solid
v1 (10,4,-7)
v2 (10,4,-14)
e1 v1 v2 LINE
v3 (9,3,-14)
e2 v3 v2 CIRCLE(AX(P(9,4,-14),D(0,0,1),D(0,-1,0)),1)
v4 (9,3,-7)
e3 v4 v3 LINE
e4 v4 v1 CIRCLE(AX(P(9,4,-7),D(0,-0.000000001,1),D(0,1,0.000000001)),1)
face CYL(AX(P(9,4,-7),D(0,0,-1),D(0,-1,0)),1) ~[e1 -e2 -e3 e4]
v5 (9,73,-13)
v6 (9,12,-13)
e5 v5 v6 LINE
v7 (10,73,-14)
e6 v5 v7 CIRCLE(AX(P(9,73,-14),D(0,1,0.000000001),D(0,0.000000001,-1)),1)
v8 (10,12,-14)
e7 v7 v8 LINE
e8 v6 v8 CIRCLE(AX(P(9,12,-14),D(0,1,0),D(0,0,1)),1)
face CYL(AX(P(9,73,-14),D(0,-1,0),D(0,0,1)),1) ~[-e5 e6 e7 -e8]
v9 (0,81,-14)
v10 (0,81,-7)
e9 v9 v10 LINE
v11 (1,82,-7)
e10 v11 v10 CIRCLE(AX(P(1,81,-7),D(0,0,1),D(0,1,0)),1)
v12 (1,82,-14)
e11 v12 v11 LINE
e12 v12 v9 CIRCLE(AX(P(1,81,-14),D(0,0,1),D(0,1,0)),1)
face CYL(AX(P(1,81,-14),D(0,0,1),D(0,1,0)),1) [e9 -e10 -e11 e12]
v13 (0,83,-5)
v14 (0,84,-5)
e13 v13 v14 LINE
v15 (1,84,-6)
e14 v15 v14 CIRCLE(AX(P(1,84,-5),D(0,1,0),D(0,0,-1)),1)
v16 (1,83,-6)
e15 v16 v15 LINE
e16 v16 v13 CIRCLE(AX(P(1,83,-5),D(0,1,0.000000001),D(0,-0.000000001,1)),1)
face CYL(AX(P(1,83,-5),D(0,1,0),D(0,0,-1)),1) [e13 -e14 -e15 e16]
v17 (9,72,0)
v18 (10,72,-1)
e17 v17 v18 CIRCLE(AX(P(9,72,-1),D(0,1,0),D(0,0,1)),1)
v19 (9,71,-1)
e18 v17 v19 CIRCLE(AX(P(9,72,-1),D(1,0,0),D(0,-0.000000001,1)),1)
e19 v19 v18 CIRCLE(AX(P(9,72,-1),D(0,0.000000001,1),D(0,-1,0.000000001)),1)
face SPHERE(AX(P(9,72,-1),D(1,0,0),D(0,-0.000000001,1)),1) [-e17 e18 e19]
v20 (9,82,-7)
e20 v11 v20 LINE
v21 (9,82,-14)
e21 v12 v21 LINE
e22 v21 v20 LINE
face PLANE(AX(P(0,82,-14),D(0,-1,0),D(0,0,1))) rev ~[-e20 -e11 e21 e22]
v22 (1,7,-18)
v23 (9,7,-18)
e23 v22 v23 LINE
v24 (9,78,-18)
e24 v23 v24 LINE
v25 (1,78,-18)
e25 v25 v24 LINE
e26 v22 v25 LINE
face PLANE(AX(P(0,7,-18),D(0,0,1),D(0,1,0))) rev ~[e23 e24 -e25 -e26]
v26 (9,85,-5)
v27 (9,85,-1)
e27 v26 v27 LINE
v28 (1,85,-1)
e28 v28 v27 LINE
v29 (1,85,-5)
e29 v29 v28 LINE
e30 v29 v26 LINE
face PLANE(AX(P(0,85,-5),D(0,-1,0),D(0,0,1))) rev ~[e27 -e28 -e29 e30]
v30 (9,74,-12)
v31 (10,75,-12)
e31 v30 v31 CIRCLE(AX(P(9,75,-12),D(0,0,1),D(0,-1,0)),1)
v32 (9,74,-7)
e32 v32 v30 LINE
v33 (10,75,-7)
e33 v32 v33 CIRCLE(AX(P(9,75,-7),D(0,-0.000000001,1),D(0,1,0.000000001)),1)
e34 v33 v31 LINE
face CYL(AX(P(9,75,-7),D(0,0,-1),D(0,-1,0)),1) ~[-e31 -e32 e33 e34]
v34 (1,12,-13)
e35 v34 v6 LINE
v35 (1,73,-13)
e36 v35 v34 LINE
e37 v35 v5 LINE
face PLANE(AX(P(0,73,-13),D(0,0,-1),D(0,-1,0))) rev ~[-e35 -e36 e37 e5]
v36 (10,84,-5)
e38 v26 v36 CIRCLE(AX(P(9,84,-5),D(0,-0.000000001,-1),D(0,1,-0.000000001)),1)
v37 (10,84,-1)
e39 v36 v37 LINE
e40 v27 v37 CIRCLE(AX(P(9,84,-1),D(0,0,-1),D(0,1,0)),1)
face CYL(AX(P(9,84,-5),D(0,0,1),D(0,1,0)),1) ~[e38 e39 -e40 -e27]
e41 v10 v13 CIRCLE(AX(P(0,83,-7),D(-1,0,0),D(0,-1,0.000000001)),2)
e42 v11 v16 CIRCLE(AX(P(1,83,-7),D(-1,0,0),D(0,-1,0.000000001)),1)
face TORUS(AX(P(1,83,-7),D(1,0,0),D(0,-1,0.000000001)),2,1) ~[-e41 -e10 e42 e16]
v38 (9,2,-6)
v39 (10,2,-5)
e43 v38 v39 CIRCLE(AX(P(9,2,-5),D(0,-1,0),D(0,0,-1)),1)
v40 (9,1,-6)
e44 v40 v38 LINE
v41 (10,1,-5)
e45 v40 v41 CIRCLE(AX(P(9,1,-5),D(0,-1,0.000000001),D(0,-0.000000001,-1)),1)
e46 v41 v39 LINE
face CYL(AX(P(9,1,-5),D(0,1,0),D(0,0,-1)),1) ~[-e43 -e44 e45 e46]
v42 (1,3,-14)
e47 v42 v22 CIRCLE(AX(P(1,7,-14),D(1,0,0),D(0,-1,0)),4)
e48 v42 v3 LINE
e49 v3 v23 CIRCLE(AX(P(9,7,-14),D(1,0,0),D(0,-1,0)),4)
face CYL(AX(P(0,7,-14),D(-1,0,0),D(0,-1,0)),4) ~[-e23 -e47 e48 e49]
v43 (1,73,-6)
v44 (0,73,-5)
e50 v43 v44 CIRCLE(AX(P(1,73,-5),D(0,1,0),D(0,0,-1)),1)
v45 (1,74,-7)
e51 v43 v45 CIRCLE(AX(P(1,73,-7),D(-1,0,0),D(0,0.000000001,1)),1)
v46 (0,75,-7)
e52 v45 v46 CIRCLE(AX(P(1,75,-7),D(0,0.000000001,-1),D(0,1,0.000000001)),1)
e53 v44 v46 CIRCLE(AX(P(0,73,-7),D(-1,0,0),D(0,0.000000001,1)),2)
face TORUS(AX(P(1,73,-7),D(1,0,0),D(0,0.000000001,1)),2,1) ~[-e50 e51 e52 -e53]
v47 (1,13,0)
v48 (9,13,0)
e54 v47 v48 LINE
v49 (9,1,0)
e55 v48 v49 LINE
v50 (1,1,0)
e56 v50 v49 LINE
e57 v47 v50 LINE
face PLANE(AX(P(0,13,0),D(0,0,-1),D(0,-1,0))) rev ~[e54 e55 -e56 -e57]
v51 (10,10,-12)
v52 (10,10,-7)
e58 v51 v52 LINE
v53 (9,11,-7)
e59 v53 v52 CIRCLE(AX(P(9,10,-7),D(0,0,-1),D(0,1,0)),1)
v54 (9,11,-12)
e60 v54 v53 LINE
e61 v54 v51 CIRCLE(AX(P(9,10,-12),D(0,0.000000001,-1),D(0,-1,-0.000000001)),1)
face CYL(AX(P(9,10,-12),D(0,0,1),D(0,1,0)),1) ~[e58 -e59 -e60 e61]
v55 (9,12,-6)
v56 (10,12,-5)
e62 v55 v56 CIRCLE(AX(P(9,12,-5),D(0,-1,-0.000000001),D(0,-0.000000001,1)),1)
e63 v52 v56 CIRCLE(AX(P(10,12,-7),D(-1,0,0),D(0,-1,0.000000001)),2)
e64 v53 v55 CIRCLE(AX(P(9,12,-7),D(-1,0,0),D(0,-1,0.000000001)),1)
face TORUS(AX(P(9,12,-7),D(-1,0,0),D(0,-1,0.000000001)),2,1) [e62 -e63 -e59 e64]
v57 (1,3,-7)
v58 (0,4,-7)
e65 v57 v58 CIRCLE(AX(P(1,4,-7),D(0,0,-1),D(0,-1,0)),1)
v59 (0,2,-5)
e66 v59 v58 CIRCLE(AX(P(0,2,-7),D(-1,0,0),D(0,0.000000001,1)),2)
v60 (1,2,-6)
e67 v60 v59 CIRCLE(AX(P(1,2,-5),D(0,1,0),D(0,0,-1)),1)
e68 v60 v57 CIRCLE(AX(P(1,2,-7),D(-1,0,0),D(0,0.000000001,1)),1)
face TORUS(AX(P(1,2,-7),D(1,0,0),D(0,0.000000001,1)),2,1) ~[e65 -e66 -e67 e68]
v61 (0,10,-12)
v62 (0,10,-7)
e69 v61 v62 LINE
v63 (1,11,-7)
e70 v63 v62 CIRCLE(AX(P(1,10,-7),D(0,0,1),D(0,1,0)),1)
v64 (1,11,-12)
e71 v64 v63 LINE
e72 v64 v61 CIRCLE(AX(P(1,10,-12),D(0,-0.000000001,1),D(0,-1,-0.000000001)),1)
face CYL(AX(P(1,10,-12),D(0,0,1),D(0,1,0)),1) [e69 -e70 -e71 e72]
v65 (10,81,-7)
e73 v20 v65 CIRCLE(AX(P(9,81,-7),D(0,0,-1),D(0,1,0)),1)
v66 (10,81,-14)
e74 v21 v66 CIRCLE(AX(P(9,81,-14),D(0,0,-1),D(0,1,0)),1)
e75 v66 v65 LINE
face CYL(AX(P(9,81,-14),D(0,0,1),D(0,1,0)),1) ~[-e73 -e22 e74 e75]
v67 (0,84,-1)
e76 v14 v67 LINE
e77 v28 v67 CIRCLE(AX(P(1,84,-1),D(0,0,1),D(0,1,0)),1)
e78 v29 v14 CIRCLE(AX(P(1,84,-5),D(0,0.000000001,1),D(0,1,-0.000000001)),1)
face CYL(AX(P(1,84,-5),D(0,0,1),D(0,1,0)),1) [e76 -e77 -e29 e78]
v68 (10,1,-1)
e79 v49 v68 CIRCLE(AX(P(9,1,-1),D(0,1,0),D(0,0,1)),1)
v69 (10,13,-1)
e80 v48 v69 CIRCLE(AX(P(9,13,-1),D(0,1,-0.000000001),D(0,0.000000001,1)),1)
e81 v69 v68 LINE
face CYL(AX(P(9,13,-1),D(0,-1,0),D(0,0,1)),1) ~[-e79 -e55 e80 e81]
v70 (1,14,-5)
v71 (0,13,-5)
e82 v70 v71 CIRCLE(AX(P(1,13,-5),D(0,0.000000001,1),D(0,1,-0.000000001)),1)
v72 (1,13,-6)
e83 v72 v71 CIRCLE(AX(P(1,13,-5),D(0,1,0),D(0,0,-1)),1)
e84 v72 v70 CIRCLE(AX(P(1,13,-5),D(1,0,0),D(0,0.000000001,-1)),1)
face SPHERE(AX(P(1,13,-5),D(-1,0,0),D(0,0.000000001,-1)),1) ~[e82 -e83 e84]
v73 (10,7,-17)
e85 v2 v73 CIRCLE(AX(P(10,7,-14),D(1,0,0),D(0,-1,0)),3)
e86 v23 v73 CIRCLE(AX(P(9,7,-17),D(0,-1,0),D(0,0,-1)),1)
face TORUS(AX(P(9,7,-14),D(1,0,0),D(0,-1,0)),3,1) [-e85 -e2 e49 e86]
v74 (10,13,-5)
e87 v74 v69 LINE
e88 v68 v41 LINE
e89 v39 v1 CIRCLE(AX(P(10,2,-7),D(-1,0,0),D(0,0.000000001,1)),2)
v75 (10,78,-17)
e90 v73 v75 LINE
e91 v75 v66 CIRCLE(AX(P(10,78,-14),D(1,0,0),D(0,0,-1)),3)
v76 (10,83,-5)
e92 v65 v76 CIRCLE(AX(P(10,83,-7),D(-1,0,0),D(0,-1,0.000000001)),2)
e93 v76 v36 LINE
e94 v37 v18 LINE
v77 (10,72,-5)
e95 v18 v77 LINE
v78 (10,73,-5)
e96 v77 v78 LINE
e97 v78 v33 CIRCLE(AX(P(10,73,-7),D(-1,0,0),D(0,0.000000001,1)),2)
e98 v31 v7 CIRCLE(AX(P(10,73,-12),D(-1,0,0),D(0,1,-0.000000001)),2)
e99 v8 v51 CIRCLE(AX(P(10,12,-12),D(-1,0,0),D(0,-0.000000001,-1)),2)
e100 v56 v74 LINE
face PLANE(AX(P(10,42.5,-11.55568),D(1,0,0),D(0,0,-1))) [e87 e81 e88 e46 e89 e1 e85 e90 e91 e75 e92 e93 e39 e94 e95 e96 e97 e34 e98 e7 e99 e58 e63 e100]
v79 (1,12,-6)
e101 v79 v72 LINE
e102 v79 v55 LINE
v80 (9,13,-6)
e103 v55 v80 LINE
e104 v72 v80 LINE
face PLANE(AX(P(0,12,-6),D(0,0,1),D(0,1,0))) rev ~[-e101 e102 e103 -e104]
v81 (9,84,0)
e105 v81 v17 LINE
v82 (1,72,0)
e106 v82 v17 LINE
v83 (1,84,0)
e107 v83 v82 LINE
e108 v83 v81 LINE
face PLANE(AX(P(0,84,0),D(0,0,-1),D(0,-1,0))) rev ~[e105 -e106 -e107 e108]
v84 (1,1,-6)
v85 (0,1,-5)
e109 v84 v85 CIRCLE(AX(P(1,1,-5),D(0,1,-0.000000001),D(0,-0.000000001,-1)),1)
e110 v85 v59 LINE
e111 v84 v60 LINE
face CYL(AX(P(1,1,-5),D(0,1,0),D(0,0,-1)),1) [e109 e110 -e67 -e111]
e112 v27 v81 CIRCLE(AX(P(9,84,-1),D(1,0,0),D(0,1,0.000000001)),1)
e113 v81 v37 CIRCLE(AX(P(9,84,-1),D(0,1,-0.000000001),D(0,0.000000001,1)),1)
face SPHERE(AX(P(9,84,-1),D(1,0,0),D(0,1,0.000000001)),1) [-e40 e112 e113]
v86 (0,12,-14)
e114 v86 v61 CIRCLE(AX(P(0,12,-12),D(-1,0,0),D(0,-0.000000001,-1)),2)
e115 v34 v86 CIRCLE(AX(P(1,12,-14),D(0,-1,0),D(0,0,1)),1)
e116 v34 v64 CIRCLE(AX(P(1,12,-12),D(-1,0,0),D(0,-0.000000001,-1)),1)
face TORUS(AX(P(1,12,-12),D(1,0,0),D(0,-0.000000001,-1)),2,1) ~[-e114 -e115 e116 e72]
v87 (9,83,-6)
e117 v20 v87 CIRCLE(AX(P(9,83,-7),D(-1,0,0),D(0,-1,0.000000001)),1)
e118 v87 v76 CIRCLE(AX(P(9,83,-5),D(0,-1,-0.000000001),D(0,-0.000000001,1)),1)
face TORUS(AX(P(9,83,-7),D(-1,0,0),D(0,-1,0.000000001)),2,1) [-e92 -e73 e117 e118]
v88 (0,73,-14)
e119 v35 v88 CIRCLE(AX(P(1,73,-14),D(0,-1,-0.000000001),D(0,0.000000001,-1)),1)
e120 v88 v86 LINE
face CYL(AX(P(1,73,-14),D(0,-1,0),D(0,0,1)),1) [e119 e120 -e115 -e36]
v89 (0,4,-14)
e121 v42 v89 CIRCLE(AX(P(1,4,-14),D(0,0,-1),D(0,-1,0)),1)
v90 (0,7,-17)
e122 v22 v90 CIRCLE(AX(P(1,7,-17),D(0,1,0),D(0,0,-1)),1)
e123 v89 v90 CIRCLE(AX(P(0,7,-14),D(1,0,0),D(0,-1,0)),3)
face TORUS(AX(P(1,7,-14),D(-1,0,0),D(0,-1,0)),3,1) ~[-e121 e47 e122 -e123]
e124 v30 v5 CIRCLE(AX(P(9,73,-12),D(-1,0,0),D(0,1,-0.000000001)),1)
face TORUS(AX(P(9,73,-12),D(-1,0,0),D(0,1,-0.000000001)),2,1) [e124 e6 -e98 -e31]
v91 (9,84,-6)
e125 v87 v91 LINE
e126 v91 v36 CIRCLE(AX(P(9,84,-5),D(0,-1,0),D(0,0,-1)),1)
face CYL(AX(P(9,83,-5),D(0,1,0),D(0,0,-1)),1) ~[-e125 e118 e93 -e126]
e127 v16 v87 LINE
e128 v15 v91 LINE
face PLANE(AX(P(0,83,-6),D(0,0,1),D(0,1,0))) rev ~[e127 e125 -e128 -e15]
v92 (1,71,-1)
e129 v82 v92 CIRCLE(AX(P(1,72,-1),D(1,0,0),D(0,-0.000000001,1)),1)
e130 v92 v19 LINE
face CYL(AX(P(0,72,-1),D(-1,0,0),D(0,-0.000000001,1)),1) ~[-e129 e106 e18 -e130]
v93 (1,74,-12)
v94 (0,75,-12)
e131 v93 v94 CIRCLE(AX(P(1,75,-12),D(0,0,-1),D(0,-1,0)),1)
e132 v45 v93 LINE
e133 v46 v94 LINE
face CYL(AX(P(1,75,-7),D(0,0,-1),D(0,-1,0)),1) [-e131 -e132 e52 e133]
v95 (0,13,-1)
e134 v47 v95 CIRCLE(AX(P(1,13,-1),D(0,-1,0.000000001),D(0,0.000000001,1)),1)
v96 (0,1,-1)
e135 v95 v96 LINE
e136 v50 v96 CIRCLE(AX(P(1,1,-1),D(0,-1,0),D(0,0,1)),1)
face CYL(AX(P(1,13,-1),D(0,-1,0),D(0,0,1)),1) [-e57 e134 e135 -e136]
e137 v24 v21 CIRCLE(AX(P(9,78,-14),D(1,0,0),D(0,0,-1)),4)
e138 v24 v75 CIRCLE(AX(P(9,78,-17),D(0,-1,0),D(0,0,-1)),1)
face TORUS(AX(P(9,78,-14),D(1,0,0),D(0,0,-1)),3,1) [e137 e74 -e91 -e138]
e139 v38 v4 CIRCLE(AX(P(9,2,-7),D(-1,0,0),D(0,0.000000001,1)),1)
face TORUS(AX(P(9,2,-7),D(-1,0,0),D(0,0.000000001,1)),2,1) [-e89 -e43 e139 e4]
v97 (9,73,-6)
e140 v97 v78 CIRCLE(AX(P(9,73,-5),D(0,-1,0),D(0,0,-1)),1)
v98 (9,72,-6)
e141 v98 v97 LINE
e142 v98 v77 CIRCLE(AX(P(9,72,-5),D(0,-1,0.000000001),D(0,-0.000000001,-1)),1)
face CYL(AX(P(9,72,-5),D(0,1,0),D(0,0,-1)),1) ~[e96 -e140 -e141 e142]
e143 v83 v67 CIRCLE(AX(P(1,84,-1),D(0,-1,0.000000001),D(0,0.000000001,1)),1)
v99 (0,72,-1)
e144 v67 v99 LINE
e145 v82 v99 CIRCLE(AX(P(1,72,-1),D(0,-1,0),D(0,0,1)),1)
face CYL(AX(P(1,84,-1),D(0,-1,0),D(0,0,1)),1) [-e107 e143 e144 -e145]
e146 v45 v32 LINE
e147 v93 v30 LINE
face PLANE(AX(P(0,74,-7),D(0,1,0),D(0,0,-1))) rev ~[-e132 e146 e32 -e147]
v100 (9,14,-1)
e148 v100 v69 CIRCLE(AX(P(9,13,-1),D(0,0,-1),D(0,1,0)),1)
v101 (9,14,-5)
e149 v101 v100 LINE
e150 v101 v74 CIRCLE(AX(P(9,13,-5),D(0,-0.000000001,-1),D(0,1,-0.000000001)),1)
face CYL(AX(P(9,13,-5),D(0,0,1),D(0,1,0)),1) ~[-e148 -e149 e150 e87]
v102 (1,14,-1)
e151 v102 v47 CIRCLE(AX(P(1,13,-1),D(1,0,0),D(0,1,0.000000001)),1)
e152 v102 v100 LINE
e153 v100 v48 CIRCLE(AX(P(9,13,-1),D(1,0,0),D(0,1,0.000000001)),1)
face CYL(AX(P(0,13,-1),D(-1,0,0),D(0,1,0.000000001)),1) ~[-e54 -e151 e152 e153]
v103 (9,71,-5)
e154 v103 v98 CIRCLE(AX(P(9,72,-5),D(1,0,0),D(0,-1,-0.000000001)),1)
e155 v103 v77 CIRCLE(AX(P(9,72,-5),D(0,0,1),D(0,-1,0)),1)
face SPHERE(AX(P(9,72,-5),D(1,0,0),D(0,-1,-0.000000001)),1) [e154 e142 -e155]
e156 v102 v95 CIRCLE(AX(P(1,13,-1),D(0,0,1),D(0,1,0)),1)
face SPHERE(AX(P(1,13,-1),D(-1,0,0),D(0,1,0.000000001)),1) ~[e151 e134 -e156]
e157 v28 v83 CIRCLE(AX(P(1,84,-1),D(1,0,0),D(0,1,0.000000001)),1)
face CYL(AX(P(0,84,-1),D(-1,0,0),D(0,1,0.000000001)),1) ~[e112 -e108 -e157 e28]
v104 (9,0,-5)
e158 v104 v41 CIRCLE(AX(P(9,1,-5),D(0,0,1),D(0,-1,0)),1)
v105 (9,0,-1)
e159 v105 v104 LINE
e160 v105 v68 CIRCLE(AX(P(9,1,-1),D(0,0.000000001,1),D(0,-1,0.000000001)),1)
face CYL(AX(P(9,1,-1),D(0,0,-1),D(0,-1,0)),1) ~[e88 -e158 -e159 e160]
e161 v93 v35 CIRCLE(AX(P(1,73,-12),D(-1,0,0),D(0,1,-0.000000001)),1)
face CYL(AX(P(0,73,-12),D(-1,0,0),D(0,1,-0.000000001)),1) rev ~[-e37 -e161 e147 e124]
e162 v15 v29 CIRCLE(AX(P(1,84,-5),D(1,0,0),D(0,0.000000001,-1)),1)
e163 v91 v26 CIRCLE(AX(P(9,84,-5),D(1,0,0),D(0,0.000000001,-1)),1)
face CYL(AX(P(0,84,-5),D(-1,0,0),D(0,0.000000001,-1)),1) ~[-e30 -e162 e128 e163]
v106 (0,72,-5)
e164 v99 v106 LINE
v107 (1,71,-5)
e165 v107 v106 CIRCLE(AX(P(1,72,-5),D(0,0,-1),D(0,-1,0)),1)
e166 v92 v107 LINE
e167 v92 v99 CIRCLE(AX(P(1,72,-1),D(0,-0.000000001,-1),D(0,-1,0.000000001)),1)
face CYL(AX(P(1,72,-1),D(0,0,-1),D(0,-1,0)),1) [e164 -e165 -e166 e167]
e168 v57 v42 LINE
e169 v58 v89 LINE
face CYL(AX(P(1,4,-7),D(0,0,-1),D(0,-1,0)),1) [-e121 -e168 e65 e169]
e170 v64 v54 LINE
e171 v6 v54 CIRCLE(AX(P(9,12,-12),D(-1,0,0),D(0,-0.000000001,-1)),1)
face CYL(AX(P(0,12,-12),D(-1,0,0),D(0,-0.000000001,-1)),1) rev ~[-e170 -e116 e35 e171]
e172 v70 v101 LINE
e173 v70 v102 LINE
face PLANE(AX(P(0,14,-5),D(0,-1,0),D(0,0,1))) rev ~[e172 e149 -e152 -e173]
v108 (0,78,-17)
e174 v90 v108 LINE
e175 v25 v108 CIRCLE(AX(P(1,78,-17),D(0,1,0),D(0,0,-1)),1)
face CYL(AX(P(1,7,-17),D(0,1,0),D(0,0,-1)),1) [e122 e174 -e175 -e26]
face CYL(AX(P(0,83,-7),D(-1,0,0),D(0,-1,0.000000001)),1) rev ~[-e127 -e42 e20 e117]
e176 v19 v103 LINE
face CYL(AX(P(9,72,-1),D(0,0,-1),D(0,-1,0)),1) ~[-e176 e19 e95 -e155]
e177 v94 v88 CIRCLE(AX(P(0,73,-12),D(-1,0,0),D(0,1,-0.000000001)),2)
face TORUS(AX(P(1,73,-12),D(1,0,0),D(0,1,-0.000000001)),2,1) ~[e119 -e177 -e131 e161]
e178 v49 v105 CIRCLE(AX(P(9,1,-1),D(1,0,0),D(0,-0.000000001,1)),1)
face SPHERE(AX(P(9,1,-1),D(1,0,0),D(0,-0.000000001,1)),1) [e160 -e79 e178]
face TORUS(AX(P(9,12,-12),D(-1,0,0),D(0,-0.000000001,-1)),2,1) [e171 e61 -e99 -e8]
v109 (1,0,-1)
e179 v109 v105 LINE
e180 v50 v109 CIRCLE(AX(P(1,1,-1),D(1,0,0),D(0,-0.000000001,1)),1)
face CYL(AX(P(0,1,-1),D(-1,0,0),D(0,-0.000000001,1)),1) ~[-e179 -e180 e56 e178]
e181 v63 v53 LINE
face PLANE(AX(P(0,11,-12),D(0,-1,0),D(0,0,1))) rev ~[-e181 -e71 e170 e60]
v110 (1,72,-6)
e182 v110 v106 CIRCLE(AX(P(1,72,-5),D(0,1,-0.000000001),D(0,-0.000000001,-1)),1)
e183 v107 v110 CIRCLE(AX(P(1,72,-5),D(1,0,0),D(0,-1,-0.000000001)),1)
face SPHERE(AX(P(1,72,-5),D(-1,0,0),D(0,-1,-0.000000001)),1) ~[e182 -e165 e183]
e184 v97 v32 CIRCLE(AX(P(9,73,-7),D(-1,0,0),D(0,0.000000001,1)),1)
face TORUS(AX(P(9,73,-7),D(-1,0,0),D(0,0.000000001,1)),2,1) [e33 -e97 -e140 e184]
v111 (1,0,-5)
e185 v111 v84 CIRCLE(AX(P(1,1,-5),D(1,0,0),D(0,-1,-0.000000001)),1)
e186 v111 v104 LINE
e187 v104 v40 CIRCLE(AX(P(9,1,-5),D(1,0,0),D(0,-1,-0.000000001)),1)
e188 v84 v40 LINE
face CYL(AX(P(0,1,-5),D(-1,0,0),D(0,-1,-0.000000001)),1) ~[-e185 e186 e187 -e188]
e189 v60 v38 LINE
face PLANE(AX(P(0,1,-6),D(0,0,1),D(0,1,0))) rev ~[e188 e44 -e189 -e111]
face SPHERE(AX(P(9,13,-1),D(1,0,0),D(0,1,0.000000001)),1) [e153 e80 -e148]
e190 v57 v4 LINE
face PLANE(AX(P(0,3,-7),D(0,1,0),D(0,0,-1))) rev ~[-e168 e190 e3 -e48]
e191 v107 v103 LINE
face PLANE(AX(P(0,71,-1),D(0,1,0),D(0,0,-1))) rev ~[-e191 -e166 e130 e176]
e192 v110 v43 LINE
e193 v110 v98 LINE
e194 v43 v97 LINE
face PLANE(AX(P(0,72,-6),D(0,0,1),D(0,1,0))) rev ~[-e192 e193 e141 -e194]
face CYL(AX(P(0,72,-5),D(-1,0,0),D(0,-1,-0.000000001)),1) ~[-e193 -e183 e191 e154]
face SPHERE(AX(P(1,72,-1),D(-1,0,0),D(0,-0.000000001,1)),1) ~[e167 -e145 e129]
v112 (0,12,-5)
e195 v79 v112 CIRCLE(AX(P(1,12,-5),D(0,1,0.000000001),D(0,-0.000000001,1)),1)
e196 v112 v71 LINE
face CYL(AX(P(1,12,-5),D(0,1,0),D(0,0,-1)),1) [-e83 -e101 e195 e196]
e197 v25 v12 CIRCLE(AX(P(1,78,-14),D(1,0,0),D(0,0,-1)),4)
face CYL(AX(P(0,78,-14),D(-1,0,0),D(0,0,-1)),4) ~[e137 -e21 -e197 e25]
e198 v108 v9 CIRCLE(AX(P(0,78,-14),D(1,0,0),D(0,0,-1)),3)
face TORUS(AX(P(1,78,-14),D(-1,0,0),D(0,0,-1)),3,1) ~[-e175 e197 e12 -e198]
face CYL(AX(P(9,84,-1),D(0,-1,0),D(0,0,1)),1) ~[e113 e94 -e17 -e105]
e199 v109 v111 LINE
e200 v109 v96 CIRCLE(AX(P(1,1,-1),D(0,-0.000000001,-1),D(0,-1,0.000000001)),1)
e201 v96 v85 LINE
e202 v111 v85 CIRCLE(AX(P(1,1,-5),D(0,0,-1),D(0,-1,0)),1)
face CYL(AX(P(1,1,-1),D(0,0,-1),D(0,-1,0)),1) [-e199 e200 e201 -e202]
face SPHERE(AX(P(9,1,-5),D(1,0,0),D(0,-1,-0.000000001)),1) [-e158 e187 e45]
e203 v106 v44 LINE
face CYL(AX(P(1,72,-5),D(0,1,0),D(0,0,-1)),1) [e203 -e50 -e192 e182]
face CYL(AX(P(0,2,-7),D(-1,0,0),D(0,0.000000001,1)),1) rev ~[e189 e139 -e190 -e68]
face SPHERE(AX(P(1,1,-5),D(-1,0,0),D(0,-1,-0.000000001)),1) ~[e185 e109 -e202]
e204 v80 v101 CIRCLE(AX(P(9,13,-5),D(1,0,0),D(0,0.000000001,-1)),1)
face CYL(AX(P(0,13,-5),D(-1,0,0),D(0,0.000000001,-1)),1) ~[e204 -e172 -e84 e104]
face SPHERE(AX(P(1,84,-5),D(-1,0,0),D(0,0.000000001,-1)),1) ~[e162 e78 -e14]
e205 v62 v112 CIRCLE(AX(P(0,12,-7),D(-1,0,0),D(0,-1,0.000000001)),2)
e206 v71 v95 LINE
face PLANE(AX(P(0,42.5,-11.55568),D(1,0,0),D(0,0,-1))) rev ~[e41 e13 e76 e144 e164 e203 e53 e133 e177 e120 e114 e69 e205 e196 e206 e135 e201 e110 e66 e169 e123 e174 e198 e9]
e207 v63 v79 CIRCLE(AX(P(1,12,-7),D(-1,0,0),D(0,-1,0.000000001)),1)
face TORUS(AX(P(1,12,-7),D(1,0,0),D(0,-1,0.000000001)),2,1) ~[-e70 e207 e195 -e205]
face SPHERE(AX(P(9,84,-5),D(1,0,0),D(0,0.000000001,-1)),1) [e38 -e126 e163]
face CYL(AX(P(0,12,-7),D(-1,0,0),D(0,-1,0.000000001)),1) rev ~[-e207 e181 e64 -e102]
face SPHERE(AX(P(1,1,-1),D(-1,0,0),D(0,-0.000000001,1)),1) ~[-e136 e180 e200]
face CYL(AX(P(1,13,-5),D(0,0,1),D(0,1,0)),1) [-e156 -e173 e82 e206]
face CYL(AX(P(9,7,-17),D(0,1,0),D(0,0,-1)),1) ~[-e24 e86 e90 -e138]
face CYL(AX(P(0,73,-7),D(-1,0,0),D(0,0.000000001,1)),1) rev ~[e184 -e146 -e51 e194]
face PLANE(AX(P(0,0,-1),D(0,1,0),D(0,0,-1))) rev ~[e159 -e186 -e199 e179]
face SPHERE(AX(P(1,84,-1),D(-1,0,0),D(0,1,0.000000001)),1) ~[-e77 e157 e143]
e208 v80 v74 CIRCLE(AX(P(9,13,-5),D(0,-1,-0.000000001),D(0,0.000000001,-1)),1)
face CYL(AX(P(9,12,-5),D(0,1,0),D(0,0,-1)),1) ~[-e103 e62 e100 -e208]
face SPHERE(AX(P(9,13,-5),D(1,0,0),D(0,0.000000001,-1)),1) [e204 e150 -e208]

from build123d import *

# Parameters (mm, degrees)
BOSS_EXTRUDE1_DEPTH = 10
FILLET1_R           = 1


with BuildPart() as part:
    # Sketch1 → Boss-Extrude1 (new body)
    with BuildSketch(Plane(origin=(0, 0, 0), x_dir=(0, 0, -1), z_dir=(1, 0, 0))):
        with BuildLine():
            Line((1, 0), (5, 0))
            ThreePointArc((5, 0), (5.707106781, 0.292893219), (6, 1))
            Line((6, 1), (6, 2))
            ThreePointArc((6, 2), (6.292893219, 2.707106781), (7, 3))
            Line((7, 3), (13, 3))
            Line((13, 3), (14, 3))
            ThreePointArc((14, 3), (16.828427125, 4.171572875), (18, 7))
            Line((18, 7), (18, 78))
            ThreePointArc((18, 78), (16.828427125, 80.828427125), (14, 82))
            Line((14, 82), (13, 82))
            Line((13, 82), (7, 82))
            ThreePointArc((7, 82), (6.292893219, 82.292893219), (6, 83))
            Line((6, 83), (6, 84))
            ThreePointArc((6, 84), (5.707106781, 84.707106781), (5, 85))
            Line((5, 85), (1, 85))
            ThreePointArc((1, 85), (0.292893219, 84.707106781), (0, 84))
            Line((0, 84), (0, 72))
            ThreePointArc((0, 72), (0.292893219, 71.292893219), (1, 71))
            Line((1, 71), (5, 71))
            ThreePointArc((5, 71), (5.707106781, 71.292893219), (6, 72))
            Line((6, 72), (6, 73))
            ThreePointArc((6, 73), (6.292893219, 73.707106781), (7, 74))
            Line((7, 74), (12, 74))
            ThreePointArc((12, 74), (12.707106781, 73.707106781), (13, 73))
            Line((13, 73), (13, 12))
            ThreePointArc((13, 12), (12.707106781, 11.292893219), (12, 11))
            Line((12, 11), (7, 11))
            ThreePointArc((7, 11), (6.292893219, 11.292893219), (6, 12))
            Line((6, 12), (6, 13))
            ThreePointArc((6, 13), (5.707106781, 13.707106781), (5, 14))
            Line((5, 14), (1, 14))
            ThreePointArc((1, 14), (0.292893219, 13.707106781), (0, 13))
            Line((0, 13), (0, 1))
            ThreePointArc((0, 1), (0.292893219, 0.292893219), (1, 0))
        make_face()
    extrude(amount=BOSS_EXTRUDE1_DEPTH)

    # Fillet1
    fillet1_edges = [part.edges().sort_by_distance(p)[0] for p in [
        (10, 13.707106781, -5.707106781),
        (10, 14, -3),
        (10, 13.707106781, -0.292893219),
        (10, 7, 0),
        (10, 0.292893219, -0.292893219),
        (10, 0, -3),
        (10, 0.292893219, -5.707106781),
        (10, 1.5, -6),
        (10, 42.5, -18),
        (10, 2.707106781, -6.292893219),
        (10, 80.828427125, -16.828427125),
        (10, 82, -10.5),
        (10, 82.292893219, -6.292893219),
        (0, 3, -10.5),
        (0, 2.707106781, -6.292893219),
        (0, 1.5, -6),
        (10, 83.5, -6),
        (0, 0.292893219, -5.707106781),
        (0, 0, -3),
        (0, 0.292893219, -0.292893219),
        (0, 7, 0),
        (0, 13.707106781, -0.292893219),
        (0, 14, -3),
        (0, 13.707106781, -5.707106781),
        (0, 12.5, -6),
        (0, 11.292893219, -6.292893219),
        (0, 11, -9.5),
        (10, 84.707106781, -5.707106781),
        (0, 11.292893219, -12.707106781),
        (0, 42.5, -13),
        (0, 73.707106781, -12.707106781),
        (0, 74, -9.5),
        (0, 73.707106781, -6.292893219),
        (0, 72.5, -6),
        (0, 71.292893219, -5.707106781),
        (0, 71, -3),
        (0, 71.292893219, -0.292893219),
        (0, 78, 0),
        (10, 85, -3),
        (0, 84.707106781, -0.292893219),
        (0, 85, -3),
        (0, 84.707106781, -5.707106781),
        (0, 83.5, -6),
        (0, 82.292893219, -6.292893219),
        (0, 82, -10.5),
        (0, 80.828427125, -16.828427125),
        (0, 42.5, -18),
        (0, 4.171572875, -16.828427125),
        (10, 84.707106781, -0.292893219),
        (10, 78, 0),
        (10, 3, -10.5),
        (10, 71.292893219, -0.292893219),
        (10, 71, -3),
        (10, 71.292893219, -5.707106781),
        (10, 72.5, -6),
        (10, 73.707106781, -6.292893219),
        (10, 74, -9.5),
        (10, 73.707106781, -12.707106781),
        (10, 42.5, -13),
        (10, 11.292893219, -12.707106781),
        (10, 11, -9.5),
        (10, 4.171572875, -16.828427125),
        (10, 11.292893219, -6.292893219),
        (10, 12.5, -6),
    ]]
    fillet(fillet1_edges, radius=FILLET1_R)


solid = part.part
